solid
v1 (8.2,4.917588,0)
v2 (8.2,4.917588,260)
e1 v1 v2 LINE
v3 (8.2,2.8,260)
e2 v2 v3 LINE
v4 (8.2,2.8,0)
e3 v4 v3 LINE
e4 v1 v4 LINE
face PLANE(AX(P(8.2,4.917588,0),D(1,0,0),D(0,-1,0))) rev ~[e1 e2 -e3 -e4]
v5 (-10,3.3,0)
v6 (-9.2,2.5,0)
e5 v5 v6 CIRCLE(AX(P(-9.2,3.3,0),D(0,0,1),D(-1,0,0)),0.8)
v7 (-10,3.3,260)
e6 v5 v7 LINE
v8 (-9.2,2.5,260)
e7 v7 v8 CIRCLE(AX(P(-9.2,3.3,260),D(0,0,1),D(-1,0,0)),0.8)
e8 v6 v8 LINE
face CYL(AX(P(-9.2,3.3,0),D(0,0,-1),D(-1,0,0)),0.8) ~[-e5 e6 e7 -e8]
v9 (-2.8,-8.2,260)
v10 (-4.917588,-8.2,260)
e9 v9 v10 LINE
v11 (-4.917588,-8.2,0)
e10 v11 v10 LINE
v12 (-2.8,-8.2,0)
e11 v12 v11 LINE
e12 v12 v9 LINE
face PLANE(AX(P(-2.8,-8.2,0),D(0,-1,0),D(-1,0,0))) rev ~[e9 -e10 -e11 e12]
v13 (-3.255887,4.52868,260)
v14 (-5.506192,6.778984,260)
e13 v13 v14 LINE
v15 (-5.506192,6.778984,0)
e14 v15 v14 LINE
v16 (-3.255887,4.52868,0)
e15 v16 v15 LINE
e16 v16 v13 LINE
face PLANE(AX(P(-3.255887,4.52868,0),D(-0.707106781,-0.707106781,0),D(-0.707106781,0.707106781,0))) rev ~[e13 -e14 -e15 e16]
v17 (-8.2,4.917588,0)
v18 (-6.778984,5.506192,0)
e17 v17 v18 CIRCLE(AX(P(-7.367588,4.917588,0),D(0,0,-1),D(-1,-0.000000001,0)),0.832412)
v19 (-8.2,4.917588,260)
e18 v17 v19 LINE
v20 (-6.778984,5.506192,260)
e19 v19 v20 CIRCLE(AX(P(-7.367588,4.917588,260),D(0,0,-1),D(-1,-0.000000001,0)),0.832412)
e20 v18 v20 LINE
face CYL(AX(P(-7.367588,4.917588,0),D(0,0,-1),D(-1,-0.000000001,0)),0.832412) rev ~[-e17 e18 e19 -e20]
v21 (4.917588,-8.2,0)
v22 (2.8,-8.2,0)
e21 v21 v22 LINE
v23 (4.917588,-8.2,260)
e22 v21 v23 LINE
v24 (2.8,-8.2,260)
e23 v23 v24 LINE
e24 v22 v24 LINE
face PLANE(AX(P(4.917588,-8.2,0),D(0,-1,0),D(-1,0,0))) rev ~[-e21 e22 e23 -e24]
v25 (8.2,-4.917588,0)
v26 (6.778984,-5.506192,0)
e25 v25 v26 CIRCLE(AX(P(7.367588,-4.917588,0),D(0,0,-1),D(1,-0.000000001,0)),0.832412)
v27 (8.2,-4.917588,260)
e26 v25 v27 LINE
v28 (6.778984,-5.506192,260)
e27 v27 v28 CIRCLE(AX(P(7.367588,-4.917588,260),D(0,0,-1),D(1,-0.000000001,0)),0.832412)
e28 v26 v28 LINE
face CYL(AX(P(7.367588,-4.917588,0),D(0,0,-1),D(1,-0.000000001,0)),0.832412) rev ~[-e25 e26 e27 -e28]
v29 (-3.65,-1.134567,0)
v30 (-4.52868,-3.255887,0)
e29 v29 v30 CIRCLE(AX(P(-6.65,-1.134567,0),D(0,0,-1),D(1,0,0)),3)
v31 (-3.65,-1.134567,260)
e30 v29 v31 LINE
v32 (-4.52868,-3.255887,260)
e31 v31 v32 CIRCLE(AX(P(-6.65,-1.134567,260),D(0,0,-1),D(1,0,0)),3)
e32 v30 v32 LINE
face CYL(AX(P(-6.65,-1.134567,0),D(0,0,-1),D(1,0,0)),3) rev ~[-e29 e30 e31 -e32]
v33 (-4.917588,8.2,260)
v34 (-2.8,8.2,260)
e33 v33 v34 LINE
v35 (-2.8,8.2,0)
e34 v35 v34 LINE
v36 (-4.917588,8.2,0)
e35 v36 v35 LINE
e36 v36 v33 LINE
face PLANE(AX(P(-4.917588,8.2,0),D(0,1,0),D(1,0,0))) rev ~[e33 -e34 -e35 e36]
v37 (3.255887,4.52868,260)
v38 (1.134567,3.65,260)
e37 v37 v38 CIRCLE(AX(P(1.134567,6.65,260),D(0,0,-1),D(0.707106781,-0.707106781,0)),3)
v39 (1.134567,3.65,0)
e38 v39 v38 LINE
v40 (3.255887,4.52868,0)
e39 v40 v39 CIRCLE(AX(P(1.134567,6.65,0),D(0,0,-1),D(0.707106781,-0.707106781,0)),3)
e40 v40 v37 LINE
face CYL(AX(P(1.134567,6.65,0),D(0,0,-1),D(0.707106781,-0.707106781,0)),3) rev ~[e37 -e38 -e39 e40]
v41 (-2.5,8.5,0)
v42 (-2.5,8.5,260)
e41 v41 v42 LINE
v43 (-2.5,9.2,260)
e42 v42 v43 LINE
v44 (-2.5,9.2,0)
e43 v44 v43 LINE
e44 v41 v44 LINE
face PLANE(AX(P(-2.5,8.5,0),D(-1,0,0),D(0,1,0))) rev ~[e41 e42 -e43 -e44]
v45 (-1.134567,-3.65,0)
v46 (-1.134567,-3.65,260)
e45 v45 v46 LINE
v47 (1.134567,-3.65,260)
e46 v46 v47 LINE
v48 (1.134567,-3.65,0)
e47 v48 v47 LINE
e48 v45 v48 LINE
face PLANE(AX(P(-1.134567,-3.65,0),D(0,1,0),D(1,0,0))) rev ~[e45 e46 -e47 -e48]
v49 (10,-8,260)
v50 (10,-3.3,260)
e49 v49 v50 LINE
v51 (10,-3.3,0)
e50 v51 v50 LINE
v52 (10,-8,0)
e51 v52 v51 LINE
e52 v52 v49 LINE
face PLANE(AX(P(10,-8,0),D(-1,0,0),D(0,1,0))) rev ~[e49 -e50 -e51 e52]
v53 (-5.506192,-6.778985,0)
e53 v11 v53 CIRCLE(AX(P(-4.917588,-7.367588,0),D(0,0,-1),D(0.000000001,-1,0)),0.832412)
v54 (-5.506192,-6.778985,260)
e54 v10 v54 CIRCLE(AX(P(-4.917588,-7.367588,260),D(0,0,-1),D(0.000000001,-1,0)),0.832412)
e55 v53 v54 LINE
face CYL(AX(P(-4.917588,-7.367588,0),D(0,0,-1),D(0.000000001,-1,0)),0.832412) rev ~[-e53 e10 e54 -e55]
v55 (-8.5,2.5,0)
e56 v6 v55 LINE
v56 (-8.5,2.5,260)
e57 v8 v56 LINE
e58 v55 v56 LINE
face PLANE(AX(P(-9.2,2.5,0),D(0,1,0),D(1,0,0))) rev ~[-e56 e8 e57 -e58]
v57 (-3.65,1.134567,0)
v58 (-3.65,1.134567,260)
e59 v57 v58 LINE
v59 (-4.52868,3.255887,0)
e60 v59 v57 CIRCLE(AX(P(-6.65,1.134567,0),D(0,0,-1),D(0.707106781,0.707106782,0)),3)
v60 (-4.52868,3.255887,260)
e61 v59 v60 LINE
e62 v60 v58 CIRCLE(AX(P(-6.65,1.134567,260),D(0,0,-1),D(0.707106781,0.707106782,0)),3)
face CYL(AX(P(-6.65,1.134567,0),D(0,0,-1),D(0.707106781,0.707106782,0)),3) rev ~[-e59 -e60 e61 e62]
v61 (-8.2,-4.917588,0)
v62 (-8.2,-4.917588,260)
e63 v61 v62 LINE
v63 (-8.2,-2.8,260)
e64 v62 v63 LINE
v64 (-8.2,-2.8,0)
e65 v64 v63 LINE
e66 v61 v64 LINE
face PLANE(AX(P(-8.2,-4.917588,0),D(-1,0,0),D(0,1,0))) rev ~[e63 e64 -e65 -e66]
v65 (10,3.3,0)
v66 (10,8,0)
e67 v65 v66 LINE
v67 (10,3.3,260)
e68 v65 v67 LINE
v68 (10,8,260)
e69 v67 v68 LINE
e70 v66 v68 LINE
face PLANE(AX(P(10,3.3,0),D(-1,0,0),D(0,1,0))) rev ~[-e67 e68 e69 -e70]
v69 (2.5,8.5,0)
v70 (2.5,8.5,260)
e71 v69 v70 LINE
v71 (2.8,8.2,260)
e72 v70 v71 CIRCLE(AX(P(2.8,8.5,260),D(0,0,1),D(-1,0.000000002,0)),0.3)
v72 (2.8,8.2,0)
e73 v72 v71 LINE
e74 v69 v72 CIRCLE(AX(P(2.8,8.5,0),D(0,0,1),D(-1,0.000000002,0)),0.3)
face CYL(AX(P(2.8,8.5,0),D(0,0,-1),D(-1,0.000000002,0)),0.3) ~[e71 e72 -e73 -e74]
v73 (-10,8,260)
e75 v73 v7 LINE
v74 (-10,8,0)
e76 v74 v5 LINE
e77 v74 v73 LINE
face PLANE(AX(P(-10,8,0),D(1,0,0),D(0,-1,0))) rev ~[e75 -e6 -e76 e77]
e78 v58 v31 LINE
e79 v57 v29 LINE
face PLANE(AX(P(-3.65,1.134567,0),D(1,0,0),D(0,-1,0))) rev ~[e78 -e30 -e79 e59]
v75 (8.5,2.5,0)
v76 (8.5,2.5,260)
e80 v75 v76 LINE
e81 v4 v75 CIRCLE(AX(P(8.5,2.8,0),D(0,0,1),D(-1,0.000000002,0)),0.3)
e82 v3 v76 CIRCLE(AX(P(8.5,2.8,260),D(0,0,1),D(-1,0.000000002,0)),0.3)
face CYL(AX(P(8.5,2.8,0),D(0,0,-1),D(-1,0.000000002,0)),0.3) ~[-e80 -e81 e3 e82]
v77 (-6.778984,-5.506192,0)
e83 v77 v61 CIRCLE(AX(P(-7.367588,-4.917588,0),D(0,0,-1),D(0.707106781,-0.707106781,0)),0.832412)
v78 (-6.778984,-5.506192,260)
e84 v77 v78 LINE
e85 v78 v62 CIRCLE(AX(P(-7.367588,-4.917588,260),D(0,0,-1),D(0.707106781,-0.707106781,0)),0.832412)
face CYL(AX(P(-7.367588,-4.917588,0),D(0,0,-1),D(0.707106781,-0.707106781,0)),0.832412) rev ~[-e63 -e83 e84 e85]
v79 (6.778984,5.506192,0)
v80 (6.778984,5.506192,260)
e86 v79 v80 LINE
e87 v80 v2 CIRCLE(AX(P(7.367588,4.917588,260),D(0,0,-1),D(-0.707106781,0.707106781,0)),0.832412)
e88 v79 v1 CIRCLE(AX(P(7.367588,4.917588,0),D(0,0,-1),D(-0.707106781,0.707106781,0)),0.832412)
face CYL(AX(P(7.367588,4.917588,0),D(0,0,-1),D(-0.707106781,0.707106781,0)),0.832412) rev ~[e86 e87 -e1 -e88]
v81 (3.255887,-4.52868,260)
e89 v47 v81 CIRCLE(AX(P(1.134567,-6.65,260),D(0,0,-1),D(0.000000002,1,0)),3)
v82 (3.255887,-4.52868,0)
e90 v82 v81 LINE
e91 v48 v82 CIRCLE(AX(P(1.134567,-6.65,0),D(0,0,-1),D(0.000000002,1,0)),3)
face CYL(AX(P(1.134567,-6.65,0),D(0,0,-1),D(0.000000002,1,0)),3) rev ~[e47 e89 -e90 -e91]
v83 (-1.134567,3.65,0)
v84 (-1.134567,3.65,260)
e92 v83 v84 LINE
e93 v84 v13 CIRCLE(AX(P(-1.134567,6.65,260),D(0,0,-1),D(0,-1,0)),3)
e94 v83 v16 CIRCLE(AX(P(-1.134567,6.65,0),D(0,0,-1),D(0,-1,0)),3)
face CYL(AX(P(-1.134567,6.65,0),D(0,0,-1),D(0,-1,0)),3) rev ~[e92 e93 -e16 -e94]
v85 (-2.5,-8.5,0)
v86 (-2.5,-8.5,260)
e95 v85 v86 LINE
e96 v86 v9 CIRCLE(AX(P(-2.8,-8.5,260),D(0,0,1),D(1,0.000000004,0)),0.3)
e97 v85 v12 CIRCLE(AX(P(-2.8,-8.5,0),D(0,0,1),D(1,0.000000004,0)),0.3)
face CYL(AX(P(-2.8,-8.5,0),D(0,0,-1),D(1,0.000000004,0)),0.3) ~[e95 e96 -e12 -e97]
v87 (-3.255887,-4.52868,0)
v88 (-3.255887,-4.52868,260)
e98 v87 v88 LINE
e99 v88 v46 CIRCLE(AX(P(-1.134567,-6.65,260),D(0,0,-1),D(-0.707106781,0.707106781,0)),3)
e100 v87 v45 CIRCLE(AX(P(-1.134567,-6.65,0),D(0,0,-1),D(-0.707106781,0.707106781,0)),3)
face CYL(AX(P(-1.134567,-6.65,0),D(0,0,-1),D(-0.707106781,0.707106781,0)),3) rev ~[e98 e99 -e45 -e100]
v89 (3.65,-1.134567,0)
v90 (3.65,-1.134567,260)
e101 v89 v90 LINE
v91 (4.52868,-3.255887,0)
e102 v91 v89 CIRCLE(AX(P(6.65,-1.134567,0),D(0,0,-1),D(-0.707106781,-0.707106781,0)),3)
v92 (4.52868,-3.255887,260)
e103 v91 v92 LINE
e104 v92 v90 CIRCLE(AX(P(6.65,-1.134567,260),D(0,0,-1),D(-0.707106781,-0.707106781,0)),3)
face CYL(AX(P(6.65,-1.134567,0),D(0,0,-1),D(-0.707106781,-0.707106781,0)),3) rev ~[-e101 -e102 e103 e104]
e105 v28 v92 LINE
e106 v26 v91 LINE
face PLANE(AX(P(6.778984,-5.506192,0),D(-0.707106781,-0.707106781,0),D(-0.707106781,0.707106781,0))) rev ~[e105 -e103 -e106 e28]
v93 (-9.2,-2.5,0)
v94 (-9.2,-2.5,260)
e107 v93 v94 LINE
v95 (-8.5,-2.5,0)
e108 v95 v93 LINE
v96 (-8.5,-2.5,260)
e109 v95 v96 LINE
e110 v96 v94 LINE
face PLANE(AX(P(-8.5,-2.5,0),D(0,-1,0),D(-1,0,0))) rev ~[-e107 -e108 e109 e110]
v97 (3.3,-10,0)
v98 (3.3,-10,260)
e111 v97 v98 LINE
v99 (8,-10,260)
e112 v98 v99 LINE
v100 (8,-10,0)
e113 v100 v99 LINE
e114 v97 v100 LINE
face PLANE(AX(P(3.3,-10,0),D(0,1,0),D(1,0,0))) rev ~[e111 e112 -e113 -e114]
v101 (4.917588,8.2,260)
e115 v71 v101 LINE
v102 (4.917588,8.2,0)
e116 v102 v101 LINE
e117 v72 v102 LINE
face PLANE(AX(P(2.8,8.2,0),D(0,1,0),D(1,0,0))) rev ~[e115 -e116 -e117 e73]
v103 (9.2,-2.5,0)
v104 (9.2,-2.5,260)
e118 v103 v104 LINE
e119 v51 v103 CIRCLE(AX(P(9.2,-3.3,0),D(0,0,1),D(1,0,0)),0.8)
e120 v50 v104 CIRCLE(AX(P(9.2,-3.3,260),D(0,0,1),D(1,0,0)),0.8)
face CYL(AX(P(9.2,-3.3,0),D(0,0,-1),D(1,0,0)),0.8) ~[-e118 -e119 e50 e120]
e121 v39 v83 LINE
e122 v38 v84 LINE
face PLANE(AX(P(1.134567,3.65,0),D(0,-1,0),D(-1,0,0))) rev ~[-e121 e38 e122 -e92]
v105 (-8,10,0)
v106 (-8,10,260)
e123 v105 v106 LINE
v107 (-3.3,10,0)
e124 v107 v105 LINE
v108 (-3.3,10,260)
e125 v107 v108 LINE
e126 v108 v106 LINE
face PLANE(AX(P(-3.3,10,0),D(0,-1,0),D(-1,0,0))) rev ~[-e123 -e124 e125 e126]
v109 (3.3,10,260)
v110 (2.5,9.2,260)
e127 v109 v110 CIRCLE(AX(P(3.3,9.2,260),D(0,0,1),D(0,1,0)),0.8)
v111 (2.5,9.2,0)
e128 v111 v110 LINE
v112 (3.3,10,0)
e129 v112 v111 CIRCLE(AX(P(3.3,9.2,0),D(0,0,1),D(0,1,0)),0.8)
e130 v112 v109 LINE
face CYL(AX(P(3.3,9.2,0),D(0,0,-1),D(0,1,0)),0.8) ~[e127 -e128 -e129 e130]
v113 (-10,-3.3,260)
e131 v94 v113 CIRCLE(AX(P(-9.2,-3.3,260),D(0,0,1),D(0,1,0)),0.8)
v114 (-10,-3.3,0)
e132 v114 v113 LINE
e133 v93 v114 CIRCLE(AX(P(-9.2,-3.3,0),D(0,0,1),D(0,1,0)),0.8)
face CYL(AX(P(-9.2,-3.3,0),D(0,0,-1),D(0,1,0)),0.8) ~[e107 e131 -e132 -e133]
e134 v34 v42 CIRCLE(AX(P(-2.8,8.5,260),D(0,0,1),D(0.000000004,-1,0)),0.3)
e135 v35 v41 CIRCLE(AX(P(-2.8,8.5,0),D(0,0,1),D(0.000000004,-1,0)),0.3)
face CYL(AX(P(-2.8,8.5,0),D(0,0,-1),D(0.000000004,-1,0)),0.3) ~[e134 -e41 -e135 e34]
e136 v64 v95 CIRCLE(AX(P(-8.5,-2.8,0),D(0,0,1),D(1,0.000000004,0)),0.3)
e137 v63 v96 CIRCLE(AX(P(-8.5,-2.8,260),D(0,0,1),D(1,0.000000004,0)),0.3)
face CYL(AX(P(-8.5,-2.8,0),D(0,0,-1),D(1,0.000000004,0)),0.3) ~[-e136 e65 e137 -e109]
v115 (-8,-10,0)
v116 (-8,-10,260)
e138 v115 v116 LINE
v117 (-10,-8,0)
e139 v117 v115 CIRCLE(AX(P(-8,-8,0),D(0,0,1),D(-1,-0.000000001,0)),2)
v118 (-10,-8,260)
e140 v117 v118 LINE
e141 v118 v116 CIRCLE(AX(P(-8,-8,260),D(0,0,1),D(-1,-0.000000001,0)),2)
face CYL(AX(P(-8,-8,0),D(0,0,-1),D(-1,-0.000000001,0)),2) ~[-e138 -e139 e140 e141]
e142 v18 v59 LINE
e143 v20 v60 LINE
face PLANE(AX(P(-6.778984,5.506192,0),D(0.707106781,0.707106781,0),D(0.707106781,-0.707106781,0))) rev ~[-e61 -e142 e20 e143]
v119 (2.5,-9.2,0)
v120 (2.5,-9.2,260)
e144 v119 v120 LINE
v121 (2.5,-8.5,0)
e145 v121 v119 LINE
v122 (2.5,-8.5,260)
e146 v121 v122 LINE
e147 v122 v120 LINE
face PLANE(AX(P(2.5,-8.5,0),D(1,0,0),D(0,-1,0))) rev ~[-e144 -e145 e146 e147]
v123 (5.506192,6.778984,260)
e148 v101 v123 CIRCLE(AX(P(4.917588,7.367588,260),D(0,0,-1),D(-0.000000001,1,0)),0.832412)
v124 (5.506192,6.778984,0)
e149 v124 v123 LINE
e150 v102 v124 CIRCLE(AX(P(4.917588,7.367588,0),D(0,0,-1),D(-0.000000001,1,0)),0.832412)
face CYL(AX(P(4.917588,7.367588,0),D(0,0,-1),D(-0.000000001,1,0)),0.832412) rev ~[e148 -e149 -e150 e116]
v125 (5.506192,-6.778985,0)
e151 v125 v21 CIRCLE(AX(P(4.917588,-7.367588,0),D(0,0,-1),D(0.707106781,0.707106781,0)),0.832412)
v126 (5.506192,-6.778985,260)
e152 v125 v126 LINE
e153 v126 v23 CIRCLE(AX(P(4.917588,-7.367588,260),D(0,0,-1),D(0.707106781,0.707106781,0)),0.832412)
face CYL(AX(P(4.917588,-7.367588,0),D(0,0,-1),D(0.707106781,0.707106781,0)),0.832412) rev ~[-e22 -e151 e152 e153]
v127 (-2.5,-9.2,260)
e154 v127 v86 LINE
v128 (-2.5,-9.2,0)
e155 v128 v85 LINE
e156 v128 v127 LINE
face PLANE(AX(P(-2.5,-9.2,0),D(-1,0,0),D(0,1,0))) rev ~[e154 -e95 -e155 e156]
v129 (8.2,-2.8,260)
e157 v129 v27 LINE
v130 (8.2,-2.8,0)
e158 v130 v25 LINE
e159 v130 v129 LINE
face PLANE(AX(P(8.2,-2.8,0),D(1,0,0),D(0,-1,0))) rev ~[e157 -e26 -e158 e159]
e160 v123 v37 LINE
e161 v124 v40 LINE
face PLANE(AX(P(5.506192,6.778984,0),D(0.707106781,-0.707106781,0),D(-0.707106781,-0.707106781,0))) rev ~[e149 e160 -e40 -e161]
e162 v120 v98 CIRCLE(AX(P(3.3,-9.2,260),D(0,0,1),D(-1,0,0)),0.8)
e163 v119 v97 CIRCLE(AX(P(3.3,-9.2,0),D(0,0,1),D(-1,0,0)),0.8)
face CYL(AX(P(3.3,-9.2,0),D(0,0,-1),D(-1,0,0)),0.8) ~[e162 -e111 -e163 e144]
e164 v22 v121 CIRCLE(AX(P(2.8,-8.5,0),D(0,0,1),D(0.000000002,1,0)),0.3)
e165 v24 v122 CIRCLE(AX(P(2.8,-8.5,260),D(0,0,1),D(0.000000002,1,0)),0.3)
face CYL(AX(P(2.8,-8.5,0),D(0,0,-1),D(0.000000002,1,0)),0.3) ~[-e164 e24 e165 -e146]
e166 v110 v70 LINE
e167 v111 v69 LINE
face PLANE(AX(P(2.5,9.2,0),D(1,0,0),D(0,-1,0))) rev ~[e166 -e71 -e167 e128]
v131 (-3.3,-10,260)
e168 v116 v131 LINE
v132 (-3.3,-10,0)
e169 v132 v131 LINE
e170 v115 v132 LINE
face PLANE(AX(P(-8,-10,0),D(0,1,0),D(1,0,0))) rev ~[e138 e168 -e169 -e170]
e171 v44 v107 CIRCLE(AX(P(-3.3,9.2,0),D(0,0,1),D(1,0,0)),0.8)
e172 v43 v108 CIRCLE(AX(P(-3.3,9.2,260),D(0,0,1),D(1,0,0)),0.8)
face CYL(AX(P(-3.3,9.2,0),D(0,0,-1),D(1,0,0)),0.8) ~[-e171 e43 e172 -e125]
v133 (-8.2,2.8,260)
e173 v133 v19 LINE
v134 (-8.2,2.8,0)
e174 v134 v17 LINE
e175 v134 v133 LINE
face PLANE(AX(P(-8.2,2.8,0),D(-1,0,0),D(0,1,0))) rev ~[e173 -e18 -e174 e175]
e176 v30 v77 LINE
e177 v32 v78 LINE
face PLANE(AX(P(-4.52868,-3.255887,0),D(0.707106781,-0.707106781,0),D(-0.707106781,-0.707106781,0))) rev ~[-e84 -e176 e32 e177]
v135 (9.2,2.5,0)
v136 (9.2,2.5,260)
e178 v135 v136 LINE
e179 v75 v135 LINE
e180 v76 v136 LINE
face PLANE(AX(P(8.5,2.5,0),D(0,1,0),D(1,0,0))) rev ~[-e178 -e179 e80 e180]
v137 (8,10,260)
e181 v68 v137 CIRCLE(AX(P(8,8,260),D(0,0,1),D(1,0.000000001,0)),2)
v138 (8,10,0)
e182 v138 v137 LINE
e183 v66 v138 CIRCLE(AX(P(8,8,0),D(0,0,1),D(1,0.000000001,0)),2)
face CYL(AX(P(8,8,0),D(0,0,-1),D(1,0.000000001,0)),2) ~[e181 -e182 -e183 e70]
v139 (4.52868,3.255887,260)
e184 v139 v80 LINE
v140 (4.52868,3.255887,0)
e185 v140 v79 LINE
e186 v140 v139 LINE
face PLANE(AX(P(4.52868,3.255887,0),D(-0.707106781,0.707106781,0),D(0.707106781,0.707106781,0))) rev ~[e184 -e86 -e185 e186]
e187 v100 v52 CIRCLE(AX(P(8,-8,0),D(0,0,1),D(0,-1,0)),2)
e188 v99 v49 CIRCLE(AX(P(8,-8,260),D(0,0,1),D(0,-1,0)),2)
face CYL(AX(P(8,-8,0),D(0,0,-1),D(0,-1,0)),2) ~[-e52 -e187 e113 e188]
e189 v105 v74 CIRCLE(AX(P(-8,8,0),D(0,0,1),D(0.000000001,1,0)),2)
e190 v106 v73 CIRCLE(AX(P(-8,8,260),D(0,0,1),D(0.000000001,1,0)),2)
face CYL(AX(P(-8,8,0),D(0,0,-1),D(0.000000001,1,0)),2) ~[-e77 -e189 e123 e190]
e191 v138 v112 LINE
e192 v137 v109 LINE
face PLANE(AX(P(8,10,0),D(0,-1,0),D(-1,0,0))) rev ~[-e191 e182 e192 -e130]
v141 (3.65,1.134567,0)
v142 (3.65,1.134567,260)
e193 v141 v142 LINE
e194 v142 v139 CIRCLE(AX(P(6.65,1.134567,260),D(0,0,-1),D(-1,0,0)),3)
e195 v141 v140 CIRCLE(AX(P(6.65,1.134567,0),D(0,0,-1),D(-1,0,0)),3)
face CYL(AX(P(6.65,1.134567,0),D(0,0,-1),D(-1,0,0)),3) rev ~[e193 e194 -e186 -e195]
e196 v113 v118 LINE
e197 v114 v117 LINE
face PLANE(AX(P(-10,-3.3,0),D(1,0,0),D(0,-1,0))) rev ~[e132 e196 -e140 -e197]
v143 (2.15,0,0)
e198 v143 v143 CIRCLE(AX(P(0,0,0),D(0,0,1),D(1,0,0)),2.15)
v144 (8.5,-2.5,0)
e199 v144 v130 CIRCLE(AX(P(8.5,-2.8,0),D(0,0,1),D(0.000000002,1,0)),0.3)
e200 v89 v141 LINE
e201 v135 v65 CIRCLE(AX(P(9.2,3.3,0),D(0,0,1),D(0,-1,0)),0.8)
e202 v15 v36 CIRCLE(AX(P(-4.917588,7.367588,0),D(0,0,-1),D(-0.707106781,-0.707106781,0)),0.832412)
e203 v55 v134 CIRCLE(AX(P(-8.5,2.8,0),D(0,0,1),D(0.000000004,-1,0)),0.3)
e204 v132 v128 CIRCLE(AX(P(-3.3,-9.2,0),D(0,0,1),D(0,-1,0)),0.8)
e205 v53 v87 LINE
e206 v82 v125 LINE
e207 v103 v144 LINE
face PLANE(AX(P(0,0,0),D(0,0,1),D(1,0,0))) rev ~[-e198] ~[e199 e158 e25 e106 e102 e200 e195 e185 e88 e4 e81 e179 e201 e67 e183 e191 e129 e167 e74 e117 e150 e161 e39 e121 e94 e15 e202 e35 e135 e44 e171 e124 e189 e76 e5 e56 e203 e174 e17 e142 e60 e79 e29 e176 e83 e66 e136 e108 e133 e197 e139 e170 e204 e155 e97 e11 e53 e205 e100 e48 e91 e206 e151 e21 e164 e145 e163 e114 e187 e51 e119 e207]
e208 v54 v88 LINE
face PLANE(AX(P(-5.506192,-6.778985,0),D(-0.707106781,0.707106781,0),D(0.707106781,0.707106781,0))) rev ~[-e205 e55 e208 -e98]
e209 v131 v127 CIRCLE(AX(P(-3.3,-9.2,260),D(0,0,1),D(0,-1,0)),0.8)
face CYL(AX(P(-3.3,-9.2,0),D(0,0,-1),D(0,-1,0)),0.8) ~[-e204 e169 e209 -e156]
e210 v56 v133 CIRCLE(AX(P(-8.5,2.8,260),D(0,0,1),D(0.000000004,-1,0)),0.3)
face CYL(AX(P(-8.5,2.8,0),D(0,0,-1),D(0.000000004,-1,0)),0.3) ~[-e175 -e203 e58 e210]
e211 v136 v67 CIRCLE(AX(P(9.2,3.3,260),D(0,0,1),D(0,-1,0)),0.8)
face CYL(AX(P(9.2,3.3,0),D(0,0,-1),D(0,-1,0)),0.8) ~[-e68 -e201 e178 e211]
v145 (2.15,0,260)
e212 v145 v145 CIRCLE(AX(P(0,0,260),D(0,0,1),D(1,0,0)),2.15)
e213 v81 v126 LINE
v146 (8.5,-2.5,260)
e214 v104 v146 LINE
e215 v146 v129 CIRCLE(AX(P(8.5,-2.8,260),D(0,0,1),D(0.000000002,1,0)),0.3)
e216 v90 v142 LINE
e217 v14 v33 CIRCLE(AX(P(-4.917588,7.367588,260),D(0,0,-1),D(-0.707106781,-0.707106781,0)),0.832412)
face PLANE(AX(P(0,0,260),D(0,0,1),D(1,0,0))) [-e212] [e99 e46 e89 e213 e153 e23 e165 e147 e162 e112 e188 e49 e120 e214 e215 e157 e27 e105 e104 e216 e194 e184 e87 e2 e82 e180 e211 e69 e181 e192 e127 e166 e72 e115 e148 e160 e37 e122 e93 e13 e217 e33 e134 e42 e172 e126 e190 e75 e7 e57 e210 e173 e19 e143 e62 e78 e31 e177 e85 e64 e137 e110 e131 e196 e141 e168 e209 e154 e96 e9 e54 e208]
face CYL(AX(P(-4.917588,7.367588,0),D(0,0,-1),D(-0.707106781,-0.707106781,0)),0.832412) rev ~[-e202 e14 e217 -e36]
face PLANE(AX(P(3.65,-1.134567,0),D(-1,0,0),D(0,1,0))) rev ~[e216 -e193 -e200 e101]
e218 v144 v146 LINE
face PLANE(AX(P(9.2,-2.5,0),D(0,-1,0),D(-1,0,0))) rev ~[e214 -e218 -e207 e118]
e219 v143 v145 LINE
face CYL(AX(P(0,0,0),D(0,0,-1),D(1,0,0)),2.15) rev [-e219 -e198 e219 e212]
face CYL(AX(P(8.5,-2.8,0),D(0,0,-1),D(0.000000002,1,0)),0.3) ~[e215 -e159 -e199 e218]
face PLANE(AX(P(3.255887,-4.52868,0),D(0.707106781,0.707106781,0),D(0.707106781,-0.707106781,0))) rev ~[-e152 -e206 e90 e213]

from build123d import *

# Parameters (mm, degrees)
BOSS_EXTRU_1_DEPTH = 260


with BuildPart() as part:
    # Esquisse1 → Boss.-Extru.1 (new body)
    with BuildSketch(Plane.XY):
        with BuildLine():
            Line((-3.255887446, 4.528679645), (-5.506192286, 6.778984485))
            ThreePointArc((-5.506192286, 6.778984485), (-5.686636441, 7.686138511), (-4.917588391, 8.199999989))
            Line((-4.917588391, 8.199999989), (-2.799999991, 8.199999989))
            ThreePointArc((-2.799999991, 8.199999989), (-2.587867957, 8.287867955), (-2.499999991, 8.499999989))
            Line((-2.499999991, 8.499999989), (-2.499999991, 9.199999989))
            ThreePointArc((-2.499999991, 9.199999989), (-2.734314566, 9.765685414), (-3.299999991, 9.999999989))
            Line((-3.299999991, 9.999999989), (-7.999999991, 9.999999989))
            ThreePointArc((-7.999999991, 9.999999989), (-9.414213554, 9.414213552), (-9.999999991, 7.999999989))
            Line((-9.999999991, 7.999999989), (-9.999999991, 3.299999989))
            ThreePointArc((-9.999999991, 3.299999989), (-9.765685416, 2.734314564), (-9.199999991, 2.499999989))
            Line((-9.199999991, 2.499999989), (-8.499999991, 2.499999989))
            ThreePointArc((-8.499999991, 2.499999989), (-8.287867957, 2.587867955), (-8.199999991, 2.799999989))
            Line((-8.199999991, 2.799999989), (-8.199999991, 4.917588389))
            ThreePointArc((-8.199999991, 4.917588389), (-7.686138517, 5.686636433), (-6.778984497, 5.506192279))
            Line((-6.778984497, 5.506192279), (-4.528679657, 3.255887439))
            ThreePointArc((-4.528679657, 3.255887439), (-3.878361403, 2.282617393), (-3.650000001, 1.134567096))
            Line((-3.650000001, 1.134567096), (-3.650000001, -1.134567114))
            ThreePointArc((-3.650000001, -1.134567114), (-3.878361403, -2.282617409), (-4.528679656, -3.255887454))
            Line((-4.528679656, -3.255887454), (-6.778984496, -5.506192294))
            ThreePointArc((-6.778984496, -5.506192294), (-7.686138522, -5.686636449), (-8.2, -4.9175884))
            Line((-8.2, -4.9175884), (-8.2, -2.8))
            ThreePointArc((-8.2, -2.8), (-8.287867966, -2.587867966), (-8.5, -2.5))
            Line((-8.5, -2.5), (-9.2, -2.5))
            ThreePointArc((-9.2, -2.5), (-9.765685425, -2.734314575), (-10, -3.3))
            Line((-10, -3.3), (-10, -8))
            ThreePointArc((-10, -8), (-9.414213562, -9.414213562), (-8, -10))
            Line((-8, -10), (-3.3, -10))
            ThreePointArc((-3.3, -10), (-2.734314575, -9.765685425), (-2.5, -9.2))
            Line((-2.5, -9.2), (-2.5, -8.5))
            ThreePointArc((-2.5, -8.5), (-2.587867966, -8.287867966), (-2.8, -8.2))
            Line((-2.8, -8.2), (-4.9175884, -8.2))
            ThreePointArc((-4.9175884, -8.2), (-5.686636444, -7.686138526), (-5.50619229, -6.778984506))
            Line((-5.50619229, -6.778984506), (-3.25588745, -4.528679666))
            ThreePointArc((-3.25588745, -4.528679666), (-2.282617404, -3.878361412), (-1.134567106, -3.650000009))
            Line((-1.134567106, -3.650000009), (1.134567104, -3.650000009))
            ThreePointArc((1.134567104, -3.650000009), (2.282617399, -3.878361412), (3.255887444, -4.528679664))
            Line((3.255887444, -4.528679664), (5.506192284, -6.778984504))
            ThreePointArc((5.506192284, -6.778984504), (5.686636439, -7.686138531), (4.917588389, -8.200000009))
            Line((4.917588389, -8.200000009), (2.799999989, -8.200000009))
            ThreePointArc((2.799999989, -8.200000009), (2.587867955, -8.287867974), (2.499999989, -8.500000009))
            Line((2.499999989, -8.500000009), (2.499999989, -9.200000009))
            ThreePointArc((2.499999989, -9.200000009), (2.734314564, -9.765685434), (3.299999989, -10.000000009))
            Line((3.299999989, -10.000000009), (7.999999989, -10.000000009))
            ThreePointArc((7.999999989, -10.000000009), (9.414213552, -9.414213571), (9.999999989, -8.000000009))
            Line((9.999999989, -8.000000009), (9.999999989, -3.300000009))
            ThreePointArc((9.999999989, -3.300000009), (9.765685414, -2.734314584), (9.199999989, -2.500000009))
            Line((9.199999989, -2.500000009), (8.499999989, -2.500000009))
            ThreePointArc((8.499999989, -2.500000009), (8.287867955, -2.587867974), (8.199999989, -2.800000009))
            Line((8.199999989, -2.800000009), (8.199999989, -4.917588409))
            ThreePointArc((8.199999989, -4.917588409), (7.686138515, -5.686636452), (6.778984495, -5.506192299))
            Line((6.778984495, -5.506192299), (4.528679655, -3.255887459))
            ThreePointArc((4.528679655, -3.255887459), (3.878361401, -2.282617412), (3.649999999, -1.134567115))
            Line((3.649999999, -1.134567115), (3.649999999, 1.134567095))
            ThreePointArc((3.649999999, 1.134567095), (3.878361401, 2.28261739), (4.528679654, 3.255887435))
            Line((4.528679654, 3.255887435), (6.778984494, 5.506192275))
            ThreePointArc((6.778984494, 5.506192275), (7.68613852, 5.68663643), (8.199999998, 4.917588381))
            Line((8.199999998, 4.917588381), (8.199999998, 2.799999981))
            ThreePointArc((8.199999998, 2.799999981), (8.287867964, 2.587867946), (8.499999998, 2.499999981))
            Line((8.499999998, 2.499999981), (9.199999998, 2.499999981))
            ThreePointArc((9.199999998, 2.499999981), (9.765685423, 2.734314556), (9.999999998, 3.299999981))
            Line((9.999999998, 3.299999981), (9.999999998, 7.999999981))
            ThreePointArc((9.999999998, 7.999999981), (9.41421356, 9.414213543), (7.999999998, 9.999999981))
            Line((7.999999998, 9.999999981), (3.299999998, 9.999999981))
            ThreePointArc((3.299999998, 9.999999981), (2.734314573, 9.765685406), (2.499999998, 9.199999981))
            Line((2.499999998, 9.199999981), (2.499999998, 8.499999981))
            ThreePointArc((2.499999998, 8.499999981), (2.587867964, 8.287867946), (2.799999998, 8.199999981))
            Line((2.799999998, 8.199999981), (4.917588398, 8.199999981))
            ThreePointArc((4.917588398, 8.199999981), (5.686636442, 7.686138507), (5.506192288, 6.778984487))
            Line((5.506192288, 6.778984487), (3.255887448, 4.528679647))
            ThreePointArc((3.255887448, 4.528679647), (2.282617402, 3.878361393), (1.134567104, 3.64999999))
            Line((1.134567104, 3.64999999), (-1.134567106, 3.64999999))
            ThreePointArc((-1.134567106, 3.64999999), (-2.282617401, 3.878361392), (-3.255887446, 4.528679645))
        make_face()
        with BuildLine():
            ThreePointArc((-2.15, 0), (0, -2.15), (2.15, 0))
            ThreePointArc((2.15, 0), (0, 2.15), (-2.15, 0))
        make_face(mode=Mode.SUBTRACT)
    extrude(amount=BOSS_EXTRU_1_DEPTH)


solid = part.part
